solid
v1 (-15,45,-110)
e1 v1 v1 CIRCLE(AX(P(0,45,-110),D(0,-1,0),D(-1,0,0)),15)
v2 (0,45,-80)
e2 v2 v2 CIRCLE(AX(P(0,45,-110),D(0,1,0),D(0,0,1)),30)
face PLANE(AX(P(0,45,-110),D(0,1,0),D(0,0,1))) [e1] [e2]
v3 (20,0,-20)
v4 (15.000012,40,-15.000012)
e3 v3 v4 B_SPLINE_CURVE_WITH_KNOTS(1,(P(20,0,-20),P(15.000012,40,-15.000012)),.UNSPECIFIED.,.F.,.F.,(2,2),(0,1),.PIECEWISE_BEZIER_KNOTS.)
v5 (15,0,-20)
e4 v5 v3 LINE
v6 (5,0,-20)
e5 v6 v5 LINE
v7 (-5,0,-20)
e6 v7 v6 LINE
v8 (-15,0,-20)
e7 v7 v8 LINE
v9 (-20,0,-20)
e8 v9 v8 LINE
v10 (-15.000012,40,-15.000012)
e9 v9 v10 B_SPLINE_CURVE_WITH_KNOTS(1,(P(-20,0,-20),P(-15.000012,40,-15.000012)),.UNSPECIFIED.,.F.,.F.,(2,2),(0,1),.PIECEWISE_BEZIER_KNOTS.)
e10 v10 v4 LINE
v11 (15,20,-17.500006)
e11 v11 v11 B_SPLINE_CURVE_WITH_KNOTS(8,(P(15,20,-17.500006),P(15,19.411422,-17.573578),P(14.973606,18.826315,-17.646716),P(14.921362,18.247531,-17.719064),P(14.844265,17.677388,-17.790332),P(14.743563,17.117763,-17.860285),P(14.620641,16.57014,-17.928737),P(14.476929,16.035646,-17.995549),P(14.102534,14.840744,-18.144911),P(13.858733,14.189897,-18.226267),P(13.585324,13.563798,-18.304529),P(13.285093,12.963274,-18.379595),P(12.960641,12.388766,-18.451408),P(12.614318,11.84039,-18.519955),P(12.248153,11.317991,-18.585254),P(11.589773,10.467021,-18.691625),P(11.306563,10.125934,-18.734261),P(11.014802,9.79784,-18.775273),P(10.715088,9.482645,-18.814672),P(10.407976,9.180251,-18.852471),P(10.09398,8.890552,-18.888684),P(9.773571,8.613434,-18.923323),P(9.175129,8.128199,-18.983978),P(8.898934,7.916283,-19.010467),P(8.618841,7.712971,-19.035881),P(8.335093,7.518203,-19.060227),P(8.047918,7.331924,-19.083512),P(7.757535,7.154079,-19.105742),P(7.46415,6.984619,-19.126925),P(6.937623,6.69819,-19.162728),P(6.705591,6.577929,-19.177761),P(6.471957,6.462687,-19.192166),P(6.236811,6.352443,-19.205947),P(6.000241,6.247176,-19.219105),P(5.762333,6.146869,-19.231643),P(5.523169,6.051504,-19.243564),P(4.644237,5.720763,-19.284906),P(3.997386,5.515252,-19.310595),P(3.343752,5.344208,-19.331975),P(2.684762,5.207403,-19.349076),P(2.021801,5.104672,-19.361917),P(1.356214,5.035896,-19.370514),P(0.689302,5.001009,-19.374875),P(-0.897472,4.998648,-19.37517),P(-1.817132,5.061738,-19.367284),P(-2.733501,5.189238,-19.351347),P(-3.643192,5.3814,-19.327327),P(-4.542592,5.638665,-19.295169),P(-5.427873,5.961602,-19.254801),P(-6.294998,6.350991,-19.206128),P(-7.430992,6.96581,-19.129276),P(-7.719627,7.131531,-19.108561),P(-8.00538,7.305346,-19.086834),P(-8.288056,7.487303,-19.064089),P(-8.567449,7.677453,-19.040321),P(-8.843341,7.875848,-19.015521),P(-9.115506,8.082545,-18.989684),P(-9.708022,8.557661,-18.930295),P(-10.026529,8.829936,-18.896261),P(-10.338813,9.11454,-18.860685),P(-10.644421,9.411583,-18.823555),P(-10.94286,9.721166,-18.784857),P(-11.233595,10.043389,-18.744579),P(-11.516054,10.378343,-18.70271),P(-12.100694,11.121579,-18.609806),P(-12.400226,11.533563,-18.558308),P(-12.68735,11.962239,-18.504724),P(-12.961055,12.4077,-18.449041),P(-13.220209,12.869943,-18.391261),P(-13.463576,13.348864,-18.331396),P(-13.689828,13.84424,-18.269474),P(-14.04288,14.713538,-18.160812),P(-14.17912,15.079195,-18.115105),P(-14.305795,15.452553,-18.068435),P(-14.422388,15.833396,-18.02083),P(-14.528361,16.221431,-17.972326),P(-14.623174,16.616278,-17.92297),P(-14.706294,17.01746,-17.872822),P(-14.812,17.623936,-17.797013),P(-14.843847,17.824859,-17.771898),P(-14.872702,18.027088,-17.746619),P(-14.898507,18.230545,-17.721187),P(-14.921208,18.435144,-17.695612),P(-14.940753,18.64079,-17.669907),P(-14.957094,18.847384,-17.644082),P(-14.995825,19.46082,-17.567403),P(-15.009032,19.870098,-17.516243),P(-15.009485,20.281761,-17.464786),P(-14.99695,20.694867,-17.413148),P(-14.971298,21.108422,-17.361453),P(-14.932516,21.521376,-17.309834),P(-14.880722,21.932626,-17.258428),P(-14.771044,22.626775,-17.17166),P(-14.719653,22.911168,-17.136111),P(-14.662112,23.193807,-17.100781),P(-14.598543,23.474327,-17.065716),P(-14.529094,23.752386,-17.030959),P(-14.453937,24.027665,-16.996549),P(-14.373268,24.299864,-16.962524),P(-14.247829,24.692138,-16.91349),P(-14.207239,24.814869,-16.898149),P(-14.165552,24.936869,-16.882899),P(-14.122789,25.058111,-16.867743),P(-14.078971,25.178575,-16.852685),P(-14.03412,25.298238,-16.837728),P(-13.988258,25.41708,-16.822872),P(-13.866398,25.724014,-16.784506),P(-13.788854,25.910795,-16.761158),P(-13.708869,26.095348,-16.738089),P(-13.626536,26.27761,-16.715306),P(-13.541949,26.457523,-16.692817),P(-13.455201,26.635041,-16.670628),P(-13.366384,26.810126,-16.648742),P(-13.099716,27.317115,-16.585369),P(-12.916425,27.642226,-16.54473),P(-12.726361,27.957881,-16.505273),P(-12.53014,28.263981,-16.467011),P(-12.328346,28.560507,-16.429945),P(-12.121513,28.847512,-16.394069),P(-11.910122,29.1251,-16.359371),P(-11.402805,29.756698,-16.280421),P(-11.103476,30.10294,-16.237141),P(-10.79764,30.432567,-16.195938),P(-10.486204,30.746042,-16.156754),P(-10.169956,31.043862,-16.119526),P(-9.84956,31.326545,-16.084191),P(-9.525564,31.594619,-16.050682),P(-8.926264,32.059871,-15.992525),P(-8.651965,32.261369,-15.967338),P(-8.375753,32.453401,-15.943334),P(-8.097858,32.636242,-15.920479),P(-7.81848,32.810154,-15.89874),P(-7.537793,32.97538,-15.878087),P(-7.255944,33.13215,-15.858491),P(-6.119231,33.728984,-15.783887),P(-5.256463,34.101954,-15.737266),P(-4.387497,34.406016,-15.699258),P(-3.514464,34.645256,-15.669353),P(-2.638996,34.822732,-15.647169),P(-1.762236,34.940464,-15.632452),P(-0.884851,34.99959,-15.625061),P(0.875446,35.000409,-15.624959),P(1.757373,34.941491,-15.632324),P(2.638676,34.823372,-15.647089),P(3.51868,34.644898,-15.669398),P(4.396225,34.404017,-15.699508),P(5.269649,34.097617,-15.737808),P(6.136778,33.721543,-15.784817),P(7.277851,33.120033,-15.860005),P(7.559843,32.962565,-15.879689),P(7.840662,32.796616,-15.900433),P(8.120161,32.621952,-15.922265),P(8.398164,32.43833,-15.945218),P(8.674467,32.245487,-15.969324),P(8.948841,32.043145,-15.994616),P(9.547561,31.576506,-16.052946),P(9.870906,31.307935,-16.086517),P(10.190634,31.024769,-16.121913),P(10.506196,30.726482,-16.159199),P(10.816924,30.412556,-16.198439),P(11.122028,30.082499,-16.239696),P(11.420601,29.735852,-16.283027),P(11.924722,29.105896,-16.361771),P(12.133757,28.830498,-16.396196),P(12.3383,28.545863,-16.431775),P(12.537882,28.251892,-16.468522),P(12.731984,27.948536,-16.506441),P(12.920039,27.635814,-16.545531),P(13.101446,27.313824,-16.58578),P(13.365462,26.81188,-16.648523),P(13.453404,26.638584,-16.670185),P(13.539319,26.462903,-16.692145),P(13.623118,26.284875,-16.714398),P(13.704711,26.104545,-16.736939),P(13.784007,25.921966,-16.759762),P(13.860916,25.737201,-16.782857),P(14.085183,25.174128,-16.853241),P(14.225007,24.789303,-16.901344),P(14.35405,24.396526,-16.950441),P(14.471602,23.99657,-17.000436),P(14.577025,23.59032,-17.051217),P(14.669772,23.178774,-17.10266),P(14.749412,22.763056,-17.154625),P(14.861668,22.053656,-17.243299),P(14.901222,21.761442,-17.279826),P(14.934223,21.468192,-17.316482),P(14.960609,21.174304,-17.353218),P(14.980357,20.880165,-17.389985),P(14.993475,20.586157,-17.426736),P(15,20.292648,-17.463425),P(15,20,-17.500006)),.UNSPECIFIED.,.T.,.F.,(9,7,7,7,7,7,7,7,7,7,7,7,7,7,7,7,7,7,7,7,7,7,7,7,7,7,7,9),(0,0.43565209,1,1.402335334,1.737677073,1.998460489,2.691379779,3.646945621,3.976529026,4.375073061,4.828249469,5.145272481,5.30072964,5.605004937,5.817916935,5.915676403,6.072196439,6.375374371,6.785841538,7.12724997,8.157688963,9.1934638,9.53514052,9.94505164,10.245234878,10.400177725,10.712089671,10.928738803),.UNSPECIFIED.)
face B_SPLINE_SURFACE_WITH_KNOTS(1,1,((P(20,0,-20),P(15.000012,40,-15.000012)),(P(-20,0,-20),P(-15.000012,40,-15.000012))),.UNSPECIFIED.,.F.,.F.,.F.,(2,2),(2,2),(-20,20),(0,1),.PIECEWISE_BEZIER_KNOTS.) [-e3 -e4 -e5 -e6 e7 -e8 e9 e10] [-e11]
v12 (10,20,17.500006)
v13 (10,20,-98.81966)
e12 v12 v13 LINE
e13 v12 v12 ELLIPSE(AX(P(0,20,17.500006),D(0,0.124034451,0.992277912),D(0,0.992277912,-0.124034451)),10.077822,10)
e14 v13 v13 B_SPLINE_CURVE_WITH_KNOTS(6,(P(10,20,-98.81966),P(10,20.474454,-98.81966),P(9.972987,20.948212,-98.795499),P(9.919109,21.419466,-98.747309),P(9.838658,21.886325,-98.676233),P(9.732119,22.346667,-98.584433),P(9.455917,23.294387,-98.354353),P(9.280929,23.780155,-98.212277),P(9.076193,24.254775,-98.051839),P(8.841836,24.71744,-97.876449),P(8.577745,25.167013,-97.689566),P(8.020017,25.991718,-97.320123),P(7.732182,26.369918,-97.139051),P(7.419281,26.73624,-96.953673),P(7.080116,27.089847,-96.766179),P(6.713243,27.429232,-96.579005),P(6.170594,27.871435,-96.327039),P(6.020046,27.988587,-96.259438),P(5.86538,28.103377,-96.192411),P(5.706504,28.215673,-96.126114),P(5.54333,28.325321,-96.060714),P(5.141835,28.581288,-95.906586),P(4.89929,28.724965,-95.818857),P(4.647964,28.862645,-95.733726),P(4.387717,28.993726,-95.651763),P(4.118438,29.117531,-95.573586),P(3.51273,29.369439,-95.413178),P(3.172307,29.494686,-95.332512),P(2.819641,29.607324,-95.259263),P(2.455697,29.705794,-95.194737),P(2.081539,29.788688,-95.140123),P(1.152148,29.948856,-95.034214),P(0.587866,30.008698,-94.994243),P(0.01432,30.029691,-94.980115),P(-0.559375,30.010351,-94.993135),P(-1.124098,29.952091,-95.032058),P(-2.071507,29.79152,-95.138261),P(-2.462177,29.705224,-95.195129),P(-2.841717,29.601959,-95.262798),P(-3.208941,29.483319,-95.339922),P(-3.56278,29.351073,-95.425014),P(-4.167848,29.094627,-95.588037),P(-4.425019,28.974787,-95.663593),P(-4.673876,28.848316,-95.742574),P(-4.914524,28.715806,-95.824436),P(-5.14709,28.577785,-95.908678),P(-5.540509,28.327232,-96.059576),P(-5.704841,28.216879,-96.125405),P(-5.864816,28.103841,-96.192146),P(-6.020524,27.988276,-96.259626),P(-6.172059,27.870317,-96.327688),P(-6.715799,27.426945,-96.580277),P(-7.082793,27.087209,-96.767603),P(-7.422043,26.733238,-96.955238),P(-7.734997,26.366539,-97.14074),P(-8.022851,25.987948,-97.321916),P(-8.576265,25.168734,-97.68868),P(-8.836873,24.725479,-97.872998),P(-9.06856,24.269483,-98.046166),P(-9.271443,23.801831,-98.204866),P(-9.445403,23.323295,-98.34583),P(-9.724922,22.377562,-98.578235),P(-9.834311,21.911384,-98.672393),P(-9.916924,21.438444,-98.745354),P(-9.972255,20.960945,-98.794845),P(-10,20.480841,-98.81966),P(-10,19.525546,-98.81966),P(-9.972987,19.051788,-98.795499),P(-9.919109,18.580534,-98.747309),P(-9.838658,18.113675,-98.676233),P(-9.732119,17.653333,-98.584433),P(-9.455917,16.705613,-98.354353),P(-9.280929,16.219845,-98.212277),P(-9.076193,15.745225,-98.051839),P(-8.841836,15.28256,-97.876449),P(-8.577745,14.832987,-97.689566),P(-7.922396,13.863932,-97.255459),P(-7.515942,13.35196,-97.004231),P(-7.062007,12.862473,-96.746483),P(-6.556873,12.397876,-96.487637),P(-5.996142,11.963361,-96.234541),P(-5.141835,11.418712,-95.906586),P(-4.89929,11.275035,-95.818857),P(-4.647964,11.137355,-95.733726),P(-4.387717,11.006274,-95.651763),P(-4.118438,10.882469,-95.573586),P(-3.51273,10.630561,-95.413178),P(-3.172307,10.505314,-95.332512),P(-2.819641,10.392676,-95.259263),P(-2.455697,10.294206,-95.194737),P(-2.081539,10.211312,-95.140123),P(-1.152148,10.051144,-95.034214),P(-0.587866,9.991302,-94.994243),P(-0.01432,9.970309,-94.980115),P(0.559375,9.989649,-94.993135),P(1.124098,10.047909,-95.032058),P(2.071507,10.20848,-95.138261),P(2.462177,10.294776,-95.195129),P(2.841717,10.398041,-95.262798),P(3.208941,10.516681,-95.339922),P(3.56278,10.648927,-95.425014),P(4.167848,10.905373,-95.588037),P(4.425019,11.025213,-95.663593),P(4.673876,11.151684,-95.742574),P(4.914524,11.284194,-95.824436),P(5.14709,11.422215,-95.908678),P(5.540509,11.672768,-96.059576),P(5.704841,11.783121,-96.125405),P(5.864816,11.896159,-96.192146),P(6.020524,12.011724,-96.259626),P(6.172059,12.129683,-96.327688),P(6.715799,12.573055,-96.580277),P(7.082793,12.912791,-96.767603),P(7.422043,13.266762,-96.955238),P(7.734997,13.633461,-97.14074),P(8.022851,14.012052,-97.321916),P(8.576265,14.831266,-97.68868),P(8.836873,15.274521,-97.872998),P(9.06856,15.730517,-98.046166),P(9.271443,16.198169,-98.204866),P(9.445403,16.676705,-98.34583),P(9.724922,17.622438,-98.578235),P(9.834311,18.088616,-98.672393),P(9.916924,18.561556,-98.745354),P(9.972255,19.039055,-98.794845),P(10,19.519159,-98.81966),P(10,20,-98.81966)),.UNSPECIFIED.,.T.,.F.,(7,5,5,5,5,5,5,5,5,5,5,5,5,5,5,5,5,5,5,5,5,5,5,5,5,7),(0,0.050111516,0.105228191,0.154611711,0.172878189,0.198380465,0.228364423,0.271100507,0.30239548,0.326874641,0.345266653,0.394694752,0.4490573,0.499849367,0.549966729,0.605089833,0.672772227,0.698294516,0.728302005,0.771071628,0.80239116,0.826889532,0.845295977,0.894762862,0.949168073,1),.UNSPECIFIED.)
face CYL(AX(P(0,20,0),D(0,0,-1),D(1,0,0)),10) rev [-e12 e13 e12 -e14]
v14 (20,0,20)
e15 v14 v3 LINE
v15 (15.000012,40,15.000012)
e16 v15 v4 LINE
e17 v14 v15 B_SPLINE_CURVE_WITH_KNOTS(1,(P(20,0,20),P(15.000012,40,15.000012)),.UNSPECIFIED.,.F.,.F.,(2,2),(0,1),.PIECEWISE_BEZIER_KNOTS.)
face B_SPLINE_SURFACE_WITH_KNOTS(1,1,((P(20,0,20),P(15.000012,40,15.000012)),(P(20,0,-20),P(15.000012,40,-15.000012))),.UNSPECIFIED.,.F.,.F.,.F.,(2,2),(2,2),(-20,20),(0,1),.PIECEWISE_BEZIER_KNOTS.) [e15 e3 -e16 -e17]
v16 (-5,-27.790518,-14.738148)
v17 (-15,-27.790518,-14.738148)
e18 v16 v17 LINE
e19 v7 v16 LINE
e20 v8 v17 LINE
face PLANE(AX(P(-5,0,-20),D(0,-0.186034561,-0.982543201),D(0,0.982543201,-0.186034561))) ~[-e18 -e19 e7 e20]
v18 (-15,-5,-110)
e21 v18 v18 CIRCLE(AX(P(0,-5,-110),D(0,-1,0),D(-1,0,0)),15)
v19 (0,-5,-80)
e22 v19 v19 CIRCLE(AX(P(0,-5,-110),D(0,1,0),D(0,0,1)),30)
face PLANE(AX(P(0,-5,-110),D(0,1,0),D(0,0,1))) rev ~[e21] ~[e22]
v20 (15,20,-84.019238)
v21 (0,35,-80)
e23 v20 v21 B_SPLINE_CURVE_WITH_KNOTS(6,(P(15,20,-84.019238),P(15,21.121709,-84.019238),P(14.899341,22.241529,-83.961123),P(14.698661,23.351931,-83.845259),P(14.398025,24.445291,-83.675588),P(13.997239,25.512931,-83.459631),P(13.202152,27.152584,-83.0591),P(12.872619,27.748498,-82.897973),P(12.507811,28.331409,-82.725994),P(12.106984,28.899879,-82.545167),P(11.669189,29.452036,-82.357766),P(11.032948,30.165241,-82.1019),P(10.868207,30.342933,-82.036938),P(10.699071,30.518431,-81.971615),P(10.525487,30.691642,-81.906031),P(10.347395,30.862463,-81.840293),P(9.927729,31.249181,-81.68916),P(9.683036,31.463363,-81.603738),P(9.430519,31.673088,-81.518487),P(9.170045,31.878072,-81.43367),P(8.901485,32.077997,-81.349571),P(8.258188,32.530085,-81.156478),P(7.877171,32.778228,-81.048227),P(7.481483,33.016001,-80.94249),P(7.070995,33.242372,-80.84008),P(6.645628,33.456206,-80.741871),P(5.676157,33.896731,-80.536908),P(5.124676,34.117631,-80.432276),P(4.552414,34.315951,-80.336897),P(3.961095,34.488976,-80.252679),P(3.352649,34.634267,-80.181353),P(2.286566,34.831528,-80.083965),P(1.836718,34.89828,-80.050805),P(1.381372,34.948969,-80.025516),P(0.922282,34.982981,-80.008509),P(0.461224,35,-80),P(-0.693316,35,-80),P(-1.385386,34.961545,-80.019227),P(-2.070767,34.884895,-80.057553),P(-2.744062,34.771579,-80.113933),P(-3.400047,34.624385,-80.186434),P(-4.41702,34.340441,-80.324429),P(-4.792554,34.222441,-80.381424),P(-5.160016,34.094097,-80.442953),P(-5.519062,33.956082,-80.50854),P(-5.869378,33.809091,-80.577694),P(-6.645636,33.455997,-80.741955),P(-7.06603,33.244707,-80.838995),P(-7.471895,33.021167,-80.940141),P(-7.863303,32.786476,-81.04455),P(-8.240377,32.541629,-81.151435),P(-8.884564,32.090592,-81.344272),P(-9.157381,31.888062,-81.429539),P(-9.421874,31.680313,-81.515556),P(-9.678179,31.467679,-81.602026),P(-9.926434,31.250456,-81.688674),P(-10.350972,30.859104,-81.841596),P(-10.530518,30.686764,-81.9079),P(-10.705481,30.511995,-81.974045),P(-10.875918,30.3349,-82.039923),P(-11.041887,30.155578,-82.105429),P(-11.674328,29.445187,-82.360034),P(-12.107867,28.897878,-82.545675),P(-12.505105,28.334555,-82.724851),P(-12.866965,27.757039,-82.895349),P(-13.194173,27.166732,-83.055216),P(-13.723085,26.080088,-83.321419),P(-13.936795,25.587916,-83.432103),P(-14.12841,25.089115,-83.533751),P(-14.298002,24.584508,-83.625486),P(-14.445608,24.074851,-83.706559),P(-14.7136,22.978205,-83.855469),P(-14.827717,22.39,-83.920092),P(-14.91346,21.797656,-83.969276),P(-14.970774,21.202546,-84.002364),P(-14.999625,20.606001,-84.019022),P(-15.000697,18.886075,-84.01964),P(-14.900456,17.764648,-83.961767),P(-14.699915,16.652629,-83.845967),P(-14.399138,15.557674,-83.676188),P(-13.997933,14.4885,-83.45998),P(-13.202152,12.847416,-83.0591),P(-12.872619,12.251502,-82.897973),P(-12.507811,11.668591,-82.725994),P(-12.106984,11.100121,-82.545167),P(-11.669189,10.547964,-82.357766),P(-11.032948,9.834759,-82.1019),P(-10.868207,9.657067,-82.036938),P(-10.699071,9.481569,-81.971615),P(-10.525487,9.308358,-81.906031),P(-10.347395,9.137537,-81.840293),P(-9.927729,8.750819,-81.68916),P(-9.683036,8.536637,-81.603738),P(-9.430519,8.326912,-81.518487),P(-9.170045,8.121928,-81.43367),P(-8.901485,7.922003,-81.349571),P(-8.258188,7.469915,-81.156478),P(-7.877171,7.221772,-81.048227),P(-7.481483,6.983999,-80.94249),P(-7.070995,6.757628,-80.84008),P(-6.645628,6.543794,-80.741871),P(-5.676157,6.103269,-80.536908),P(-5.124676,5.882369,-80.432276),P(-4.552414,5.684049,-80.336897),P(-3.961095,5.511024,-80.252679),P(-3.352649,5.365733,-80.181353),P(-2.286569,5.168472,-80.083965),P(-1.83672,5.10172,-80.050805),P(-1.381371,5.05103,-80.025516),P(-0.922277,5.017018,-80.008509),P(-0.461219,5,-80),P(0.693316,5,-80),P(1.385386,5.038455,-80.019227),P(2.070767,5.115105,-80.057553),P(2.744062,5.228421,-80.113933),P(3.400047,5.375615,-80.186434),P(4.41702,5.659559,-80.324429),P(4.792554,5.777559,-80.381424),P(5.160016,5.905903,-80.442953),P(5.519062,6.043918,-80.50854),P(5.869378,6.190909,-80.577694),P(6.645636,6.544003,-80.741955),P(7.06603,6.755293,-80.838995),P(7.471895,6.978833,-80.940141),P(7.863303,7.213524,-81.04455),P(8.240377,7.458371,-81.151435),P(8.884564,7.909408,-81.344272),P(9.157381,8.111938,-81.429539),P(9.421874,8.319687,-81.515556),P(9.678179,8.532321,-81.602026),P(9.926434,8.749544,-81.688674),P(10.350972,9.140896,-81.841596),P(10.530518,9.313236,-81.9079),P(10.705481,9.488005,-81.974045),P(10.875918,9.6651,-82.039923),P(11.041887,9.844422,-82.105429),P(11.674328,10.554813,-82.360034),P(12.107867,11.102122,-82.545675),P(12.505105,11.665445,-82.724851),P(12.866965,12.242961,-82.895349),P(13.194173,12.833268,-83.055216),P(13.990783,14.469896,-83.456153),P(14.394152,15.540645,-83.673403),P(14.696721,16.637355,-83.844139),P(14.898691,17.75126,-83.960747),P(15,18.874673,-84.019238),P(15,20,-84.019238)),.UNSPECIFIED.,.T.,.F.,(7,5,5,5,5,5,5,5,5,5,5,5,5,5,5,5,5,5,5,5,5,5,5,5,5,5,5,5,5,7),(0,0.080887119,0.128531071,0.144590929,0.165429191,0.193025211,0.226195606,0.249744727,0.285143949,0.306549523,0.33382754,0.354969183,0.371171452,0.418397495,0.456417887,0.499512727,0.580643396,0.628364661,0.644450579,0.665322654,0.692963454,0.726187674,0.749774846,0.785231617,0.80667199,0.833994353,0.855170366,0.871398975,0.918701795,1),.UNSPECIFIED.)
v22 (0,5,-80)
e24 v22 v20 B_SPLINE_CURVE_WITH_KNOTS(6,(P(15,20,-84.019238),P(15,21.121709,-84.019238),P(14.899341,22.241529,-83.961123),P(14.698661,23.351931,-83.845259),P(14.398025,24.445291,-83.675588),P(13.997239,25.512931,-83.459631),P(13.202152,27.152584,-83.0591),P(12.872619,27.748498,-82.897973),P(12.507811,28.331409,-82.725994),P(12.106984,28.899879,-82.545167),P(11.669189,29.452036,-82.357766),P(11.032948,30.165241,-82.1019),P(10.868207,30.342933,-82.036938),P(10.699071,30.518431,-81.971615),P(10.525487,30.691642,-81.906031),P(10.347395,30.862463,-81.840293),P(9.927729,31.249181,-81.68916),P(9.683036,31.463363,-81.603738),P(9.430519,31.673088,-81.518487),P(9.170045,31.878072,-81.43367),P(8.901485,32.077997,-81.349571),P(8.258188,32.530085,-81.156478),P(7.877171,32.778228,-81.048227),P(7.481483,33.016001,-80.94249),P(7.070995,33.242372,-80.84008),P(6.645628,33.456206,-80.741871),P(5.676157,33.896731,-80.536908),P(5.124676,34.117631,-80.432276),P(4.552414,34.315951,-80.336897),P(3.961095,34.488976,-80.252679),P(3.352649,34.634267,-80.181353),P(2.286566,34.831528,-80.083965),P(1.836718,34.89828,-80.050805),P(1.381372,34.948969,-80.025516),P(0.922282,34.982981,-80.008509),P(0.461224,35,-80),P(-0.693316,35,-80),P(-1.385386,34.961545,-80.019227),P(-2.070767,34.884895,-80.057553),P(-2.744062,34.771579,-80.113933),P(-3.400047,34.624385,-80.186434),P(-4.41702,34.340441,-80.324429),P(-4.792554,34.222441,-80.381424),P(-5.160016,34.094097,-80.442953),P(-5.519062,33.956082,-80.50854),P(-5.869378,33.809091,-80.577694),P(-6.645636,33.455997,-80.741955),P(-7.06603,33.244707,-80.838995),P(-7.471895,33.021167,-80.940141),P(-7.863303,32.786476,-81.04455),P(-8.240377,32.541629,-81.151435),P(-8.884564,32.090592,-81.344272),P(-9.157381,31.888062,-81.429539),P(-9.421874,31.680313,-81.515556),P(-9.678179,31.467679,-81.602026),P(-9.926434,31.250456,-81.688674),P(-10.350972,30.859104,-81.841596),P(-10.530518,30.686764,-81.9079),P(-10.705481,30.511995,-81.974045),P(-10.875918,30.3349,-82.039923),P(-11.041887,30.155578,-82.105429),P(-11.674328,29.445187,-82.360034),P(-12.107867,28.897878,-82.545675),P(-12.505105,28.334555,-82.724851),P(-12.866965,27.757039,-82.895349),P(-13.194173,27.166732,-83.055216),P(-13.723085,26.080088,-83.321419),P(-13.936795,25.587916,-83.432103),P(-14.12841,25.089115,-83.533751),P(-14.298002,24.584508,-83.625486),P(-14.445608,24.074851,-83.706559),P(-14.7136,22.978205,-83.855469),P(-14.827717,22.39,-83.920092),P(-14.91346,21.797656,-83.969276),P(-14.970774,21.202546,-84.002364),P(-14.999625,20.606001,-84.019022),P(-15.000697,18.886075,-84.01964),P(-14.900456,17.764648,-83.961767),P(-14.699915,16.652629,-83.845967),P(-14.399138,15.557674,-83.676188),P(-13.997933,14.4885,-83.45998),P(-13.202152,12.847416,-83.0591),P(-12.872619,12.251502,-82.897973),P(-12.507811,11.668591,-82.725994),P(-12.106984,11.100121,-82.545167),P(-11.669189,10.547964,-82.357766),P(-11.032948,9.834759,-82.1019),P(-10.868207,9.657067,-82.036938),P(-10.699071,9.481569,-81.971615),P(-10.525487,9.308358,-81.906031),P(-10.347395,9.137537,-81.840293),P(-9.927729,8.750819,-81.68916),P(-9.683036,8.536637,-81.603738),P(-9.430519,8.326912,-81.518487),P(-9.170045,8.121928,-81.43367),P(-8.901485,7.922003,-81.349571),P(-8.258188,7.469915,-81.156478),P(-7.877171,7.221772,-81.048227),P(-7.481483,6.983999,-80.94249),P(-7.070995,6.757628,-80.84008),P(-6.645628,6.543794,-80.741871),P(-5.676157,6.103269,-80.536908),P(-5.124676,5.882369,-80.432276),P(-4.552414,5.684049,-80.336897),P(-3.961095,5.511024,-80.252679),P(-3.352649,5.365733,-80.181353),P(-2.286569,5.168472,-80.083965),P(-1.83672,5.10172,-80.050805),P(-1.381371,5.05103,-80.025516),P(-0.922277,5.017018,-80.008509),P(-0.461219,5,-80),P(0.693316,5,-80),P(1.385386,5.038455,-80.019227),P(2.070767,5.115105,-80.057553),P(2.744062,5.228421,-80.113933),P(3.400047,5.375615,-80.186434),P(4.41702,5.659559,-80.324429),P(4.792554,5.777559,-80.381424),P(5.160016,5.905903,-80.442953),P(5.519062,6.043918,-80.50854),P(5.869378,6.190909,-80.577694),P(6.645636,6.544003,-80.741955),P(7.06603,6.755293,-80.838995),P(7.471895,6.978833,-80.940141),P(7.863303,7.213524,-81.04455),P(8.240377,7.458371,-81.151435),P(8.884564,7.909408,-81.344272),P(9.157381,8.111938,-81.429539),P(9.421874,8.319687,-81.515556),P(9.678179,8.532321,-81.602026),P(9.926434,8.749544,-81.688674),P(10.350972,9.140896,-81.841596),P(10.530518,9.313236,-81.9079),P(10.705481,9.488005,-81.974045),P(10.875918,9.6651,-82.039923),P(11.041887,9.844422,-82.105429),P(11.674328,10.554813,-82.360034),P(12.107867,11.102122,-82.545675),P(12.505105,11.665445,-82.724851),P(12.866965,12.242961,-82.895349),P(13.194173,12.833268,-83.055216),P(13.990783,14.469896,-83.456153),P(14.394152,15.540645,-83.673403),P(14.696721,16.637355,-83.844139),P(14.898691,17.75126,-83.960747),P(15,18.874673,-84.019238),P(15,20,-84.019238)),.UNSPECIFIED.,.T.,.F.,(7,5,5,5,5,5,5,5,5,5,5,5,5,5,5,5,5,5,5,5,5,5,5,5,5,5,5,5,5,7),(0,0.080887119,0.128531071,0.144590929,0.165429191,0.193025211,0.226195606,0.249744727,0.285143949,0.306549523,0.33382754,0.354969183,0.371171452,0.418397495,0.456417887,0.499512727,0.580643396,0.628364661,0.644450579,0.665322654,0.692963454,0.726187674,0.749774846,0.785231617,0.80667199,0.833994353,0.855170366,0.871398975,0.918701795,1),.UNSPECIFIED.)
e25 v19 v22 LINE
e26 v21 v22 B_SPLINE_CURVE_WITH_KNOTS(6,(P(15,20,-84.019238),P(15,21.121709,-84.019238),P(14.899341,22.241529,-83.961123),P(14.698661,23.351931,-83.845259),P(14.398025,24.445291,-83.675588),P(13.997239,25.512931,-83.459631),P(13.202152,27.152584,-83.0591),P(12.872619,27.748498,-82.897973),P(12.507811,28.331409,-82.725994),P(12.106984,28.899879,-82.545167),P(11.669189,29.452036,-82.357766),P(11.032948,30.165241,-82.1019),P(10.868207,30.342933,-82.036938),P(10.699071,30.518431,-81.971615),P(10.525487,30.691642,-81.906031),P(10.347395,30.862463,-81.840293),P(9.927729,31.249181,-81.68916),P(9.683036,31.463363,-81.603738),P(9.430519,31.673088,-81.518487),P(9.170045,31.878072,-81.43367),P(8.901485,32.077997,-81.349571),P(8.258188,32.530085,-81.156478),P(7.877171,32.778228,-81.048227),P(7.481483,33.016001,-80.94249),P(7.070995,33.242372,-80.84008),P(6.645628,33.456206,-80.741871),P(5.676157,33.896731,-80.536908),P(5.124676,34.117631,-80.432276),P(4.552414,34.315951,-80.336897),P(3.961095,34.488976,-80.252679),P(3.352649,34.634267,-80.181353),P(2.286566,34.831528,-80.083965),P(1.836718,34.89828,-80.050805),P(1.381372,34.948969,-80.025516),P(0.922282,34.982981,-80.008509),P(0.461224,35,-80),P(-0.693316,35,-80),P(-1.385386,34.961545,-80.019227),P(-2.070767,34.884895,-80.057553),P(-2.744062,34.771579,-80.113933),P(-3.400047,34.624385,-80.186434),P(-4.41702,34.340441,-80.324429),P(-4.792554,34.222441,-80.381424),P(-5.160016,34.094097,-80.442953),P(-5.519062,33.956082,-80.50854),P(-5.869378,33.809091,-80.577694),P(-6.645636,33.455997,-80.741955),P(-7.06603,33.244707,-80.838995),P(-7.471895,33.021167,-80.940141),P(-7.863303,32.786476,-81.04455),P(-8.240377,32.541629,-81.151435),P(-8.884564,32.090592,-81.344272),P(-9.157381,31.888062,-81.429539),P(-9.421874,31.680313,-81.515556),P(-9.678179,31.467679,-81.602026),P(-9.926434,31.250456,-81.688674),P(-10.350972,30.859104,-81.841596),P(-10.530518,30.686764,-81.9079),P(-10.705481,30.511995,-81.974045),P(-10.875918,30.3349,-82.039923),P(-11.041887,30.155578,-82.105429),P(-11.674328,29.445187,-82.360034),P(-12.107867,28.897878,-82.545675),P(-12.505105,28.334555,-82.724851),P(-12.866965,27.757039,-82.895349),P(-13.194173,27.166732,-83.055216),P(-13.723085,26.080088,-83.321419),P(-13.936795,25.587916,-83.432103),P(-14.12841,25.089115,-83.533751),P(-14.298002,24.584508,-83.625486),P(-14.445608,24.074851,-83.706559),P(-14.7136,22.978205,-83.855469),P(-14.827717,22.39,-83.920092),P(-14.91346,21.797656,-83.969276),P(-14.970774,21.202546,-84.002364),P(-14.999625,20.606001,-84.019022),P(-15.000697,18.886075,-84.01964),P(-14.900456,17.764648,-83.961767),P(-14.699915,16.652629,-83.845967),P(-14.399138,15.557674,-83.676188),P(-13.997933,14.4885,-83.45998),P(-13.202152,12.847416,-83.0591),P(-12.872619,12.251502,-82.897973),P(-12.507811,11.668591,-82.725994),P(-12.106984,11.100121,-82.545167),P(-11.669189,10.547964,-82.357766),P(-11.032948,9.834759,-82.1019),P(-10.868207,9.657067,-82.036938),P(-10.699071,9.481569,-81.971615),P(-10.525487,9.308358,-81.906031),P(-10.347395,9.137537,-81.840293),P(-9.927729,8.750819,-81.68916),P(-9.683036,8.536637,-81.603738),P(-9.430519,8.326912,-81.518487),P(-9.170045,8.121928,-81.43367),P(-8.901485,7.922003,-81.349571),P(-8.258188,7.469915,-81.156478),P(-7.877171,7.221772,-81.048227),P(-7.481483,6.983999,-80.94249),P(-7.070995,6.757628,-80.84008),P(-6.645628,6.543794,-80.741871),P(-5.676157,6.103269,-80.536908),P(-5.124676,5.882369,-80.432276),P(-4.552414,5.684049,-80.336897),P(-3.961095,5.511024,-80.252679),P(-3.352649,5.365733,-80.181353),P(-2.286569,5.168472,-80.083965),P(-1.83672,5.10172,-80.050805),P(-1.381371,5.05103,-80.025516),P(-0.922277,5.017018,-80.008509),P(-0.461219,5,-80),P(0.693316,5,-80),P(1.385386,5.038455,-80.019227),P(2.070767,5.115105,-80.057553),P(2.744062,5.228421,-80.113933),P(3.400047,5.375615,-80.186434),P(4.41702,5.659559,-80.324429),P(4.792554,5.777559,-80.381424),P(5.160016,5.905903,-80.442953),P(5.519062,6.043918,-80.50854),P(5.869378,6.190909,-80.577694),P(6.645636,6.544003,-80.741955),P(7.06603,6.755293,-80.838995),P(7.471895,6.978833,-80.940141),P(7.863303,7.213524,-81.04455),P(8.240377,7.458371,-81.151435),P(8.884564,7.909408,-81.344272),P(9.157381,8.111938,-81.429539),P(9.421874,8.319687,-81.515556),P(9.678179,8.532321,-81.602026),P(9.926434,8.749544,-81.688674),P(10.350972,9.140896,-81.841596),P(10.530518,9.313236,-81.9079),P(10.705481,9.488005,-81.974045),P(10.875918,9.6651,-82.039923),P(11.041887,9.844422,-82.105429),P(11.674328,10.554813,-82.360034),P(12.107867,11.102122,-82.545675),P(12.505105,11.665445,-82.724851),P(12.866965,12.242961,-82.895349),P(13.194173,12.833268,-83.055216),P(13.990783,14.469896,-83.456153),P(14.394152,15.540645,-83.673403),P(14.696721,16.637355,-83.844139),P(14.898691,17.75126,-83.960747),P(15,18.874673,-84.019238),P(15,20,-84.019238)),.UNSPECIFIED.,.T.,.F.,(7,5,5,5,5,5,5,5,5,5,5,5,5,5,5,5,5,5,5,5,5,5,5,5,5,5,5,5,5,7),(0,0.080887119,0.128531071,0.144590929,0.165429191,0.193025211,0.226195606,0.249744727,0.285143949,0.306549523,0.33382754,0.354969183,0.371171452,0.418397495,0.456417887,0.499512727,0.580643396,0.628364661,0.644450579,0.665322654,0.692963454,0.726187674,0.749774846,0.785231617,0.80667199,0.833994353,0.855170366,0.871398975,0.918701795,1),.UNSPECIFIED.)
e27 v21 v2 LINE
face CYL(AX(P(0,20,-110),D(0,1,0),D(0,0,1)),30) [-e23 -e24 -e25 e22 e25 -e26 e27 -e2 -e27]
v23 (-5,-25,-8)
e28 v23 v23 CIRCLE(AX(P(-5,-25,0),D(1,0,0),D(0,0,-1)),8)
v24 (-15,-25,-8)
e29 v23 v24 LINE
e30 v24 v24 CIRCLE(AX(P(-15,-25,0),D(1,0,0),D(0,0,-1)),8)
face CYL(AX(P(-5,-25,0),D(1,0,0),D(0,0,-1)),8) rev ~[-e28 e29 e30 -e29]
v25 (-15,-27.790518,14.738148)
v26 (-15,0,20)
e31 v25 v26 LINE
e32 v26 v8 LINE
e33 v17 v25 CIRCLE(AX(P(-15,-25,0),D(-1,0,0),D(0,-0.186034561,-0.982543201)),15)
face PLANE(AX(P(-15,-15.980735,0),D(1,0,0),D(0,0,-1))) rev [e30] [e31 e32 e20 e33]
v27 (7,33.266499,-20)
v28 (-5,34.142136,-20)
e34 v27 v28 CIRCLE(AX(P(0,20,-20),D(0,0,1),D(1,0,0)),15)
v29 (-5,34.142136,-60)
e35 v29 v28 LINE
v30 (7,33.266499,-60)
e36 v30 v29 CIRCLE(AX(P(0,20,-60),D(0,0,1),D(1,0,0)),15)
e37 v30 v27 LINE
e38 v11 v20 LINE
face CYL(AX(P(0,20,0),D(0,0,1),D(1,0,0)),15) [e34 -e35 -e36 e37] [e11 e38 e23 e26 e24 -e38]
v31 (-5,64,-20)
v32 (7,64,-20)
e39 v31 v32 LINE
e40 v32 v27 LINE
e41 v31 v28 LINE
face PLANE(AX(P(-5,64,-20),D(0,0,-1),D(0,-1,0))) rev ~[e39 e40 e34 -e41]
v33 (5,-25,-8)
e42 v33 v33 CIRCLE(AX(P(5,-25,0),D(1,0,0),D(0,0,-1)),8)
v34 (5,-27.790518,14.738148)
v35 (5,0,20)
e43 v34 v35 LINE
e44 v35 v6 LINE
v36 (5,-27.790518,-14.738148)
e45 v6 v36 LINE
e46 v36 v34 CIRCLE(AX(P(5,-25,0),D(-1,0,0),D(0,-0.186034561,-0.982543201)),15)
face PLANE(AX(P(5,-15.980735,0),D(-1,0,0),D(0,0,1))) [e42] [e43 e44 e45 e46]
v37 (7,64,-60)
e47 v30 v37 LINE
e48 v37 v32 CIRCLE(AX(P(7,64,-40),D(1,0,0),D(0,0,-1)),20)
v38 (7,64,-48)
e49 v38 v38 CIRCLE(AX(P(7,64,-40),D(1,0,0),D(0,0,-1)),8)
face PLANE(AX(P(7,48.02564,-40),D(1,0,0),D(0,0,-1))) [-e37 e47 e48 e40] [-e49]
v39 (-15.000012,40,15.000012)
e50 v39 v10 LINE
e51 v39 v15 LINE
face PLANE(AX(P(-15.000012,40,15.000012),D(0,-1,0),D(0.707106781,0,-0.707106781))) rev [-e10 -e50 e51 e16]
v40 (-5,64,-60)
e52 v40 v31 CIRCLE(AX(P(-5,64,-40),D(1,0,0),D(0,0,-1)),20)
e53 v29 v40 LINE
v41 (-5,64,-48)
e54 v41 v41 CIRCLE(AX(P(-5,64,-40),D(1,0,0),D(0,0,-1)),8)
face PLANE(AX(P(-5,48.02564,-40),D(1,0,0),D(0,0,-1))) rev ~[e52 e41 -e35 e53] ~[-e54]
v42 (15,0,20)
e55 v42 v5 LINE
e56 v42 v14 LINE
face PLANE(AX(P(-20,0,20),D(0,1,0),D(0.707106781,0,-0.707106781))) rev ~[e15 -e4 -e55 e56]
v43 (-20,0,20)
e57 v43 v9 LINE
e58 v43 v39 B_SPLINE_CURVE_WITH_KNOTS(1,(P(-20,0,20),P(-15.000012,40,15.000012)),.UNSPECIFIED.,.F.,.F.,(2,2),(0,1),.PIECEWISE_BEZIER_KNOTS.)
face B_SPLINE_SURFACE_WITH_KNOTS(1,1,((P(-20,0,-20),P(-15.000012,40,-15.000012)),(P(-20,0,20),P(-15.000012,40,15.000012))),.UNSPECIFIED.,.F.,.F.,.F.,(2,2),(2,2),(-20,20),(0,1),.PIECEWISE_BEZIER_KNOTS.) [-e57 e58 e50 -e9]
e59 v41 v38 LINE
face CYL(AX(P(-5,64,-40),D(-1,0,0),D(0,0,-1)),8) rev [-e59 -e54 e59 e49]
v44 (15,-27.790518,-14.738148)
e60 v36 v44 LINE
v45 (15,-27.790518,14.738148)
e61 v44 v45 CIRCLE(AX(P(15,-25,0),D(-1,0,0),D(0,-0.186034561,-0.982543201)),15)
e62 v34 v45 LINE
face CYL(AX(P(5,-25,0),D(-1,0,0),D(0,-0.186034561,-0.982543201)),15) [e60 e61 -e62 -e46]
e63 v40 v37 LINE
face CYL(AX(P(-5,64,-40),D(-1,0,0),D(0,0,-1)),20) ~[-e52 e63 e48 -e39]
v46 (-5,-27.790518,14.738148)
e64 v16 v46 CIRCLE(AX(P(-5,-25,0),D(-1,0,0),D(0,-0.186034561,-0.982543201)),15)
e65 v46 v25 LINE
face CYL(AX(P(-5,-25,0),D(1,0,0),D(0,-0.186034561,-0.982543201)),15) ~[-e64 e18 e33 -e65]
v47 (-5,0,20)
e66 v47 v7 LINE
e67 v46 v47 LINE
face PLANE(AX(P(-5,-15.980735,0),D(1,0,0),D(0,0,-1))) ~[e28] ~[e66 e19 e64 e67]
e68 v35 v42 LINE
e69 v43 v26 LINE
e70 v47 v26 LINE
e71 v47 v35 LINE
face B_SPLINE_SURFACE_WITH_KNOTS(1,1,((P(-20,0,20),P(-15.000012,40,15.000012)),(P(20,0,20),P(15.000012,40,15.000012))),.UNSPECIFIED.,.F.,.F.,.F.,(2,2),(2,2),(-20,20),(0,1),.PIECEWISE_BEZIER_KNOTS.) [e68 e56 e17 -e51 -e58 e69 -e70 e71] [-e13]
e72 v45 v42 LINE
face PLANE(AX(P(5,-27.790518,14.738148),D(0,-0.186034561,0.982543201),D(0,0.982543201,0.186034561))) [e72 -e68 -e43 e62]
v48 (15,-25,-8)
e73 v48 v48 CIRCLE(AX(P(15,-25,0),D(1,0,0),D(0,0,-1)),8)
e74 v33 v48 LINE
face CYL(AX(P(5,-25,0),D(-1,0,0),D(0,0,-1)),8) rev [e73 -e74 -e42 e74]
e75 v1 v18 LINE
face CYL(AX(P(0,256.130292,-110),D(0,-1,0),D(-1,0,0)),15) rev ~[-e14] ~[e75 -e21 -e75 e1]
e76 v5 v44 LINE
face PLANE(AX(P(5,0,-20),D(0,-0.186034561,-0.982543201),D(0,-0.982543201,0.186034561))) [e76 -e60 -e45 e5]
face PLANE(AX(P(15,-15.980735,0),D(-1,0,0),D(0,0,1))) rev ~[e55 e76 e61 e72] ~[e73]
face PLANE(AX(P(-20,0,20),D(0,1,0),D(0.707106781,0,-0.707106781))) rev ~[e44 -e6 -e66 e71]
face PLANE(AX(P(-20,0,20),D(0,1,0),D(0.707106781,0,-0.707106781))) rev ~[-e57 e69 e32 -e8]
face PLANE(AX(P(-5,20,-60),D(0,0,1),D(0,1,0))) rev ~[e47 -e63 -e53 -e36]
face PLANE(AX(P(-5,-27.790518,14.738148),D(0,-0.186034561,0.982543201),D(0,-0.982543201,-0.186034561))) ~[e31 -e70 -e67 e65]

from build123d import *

# Parameters (mm, degrees)
SKETCH1_W                      = 40
SKETCH1_H                      = 40
BOSS_EXTRUDE1_DEPTH            = 40
BOSS_EXTRUDE1_TAPER            = 7.125
SKETCH2_R                      = 30
BOSS_EXTRUDE2_DEPTH            = 25
BOSS_EXTRUDE3_REACH            = 152.083
BOSS_EXTRUDE3_END_RADIUS       = 30
SKETCH3_R                      = 15
BOSS_EXTRUDE4_START            = -5
SKETCH4_R                      = 8
BOSS_EXTRUDE4_DEPTH            = 12
BOSS_EXTRUDE5_START            = 5
SKETCH5_R                      = 8
BOSS_EXTRUDE5_DEPTH            = 10
CUT_EXTRUDE1_REACH             = 168
SKETCH8_R                      = 10
CUT_EXTRUDE1_DIRECTION_2_DEPTH = 100
HOLE1_D                        = 30


with BuildPart() as part:
    # Sketch1 → Boss-Extrude1 (new body)
    with BuildSketch(Plane(origin=(0, 0, 0), x_dir=(1, 0, 0), z_dir=(0, 1, 0))):
        Rectangle(SKETCH1_W, SKETCH1_H)
    extrude(amount=BOSS_EXTRUDE1_DEPTH, taper=BOSS_EXTRUDE1_TAPER)



with BuildPart() as body_2:
    # Sketch2 → Boss-Extrude2 (new, symmetric)
    with BuildSketch(Plane(origin=(0, 20, 0), x_dir=(1, 0, 0), z_dir=(0, 1, 0))):
        with Locations(Location((0, 110, 0), (0, 0, 270))):
            Circle(SKETCH2_R)
    extrude(amount=BOSS_EXTRUDE2_DEPTH, both=True)


with BuildPart() as part_1:
    add(part.part)

    add(body_2.part)  # Boss-Extrude3 merges body 2
    # Boss-Extrude3: up to this cylinder (the profile starts outside it)
    boss_extrude3_end = Plane(origin=(0, 20, -110), z_dir=(0, -1, 0)) * Cylinder(BOSS_EXTRUDE3_END_RADIUS, 365.166, mode=Mode.PRIVATE)
    # Sketch3 → Boss-Extrude3 (add, up to the surface)
    with BuildSketch(Plane.XY, mode=Mode.PRIVATE) as boss_extrude3_sk1:
        with Locations((0, 20)):
            Circle(SKETCH3_R)
    boss_extrude3_tool1 = extrude(boss_extrude3_sk1.sketch, amount=-BOSS_EXTRUDE3_REACH, mode=Mode.PRIVATE) - boss_extrude3_end
    add(boss_extrude3_tool1.solids().sort_by_distance((0, 20, 0))[0])

    # Sketch4 → Boss-Extrude4 (add)
    with BuildSketch(Plane(origin=(0, 0, 0), x_dir=(0, 0, -1), z_dir=(1, 0, 0)).offset(BOSS_EXTRUDE4_START)):
        with BuildLine():
            Line((20, 64), (20, 20))
            Line((20, 20), (60, 20))
            Line((60, 20), (60, 64))
            ThreePointArc((60, 64), (40, 84), (20, 64))
        make_face()
        with Locations((40, 64)):
            Circle(SKETCH4_R, mode=Mode.SUBTRACT)
    extrude(amount=BOSS_EXTRUDE4_DEPTH)

    # Sketch5 → Boss-Extrude5 (add)
    with BuildSketch(Plane(origin=(0, 0, 0), x_dir=(0, 0, -1), z_dir=(1, 0, 0)).offset(BOSS_EXTRUDE5_START)):
        with BuildLine():
            Line((-20, 0), (20, 0))
            Line((20, 0), (14.738148017, -27.790518414))
            ThreePointArc((14.738148017, -27.790518414), (0, -40), (-14.738148017, -27.790518414))
            Line((-14.738148017, -27.790518414), (-20, 0))
        make_face()
        with Locations((0, -25)):
            Circle(SKETCH5_R, mode=Mode.SUBTRACT)
    boss_extrude5 = extrude(amount=BOSS_EXTRUDE5_DEPTH)

    # Mirror1: Boss-Extrude5 across plane
    add(boss_extrude5.mirror(Plane(origin=(0, 0, 0), x_dir=(0, 0, 1), z_dir=(1, 0, 0))))

    # Cut-Extrude1: up to this plane
    cut_extrude1_end = Plane(origin=(-20, 0, 20), z_dir=(0, 0.1240344514504856, 0.9922779121059669))
    # Sketch8 → Cut-Extrude1 (cut, up to the surface)
    with BuildSketch(Plane.XY, mode=Mode.PRIVATE) as cut_extrude1_sk1:
        with Locations((0, 20)):
            Circle(SKETCH8_R)
    cut_extrude1_tool1 = split(extrude(cut_extrude1_sk1.sketch, amount=CUT_EXTRUDE1_REACH, mode=Mode.PRIVATE), bisect_by=cut_extrude1_end, keep=Keep.BOTH, mode=Mode.PRIVATE)
    add(cut_extrude1_tool1.solids().sort_by_distance((0, 20, 0))[0], mode=Mode.SUBTRACT)

    # Sketch8 → Cut-Extrude1 direction 2 (cut)
    with BuildSketch(Plane.XY):
        with Locations((0, 20)):
            Circle(SKETCH8_R)
    extrude(amount=-CUT_EXTRUDE1_DIRECTION_2_DEPTH, mode=Mode.SUBTRACT)

    # Hole1 (through all)
    with Locations(Plane(origin=(0, 45, 0), x_dir=(1, 0, 0), z_dir=(0, 1, 0))):
        with Locations((0, 110)):
            Hole(HOLE1_D / 2)


solid = part_1.part
